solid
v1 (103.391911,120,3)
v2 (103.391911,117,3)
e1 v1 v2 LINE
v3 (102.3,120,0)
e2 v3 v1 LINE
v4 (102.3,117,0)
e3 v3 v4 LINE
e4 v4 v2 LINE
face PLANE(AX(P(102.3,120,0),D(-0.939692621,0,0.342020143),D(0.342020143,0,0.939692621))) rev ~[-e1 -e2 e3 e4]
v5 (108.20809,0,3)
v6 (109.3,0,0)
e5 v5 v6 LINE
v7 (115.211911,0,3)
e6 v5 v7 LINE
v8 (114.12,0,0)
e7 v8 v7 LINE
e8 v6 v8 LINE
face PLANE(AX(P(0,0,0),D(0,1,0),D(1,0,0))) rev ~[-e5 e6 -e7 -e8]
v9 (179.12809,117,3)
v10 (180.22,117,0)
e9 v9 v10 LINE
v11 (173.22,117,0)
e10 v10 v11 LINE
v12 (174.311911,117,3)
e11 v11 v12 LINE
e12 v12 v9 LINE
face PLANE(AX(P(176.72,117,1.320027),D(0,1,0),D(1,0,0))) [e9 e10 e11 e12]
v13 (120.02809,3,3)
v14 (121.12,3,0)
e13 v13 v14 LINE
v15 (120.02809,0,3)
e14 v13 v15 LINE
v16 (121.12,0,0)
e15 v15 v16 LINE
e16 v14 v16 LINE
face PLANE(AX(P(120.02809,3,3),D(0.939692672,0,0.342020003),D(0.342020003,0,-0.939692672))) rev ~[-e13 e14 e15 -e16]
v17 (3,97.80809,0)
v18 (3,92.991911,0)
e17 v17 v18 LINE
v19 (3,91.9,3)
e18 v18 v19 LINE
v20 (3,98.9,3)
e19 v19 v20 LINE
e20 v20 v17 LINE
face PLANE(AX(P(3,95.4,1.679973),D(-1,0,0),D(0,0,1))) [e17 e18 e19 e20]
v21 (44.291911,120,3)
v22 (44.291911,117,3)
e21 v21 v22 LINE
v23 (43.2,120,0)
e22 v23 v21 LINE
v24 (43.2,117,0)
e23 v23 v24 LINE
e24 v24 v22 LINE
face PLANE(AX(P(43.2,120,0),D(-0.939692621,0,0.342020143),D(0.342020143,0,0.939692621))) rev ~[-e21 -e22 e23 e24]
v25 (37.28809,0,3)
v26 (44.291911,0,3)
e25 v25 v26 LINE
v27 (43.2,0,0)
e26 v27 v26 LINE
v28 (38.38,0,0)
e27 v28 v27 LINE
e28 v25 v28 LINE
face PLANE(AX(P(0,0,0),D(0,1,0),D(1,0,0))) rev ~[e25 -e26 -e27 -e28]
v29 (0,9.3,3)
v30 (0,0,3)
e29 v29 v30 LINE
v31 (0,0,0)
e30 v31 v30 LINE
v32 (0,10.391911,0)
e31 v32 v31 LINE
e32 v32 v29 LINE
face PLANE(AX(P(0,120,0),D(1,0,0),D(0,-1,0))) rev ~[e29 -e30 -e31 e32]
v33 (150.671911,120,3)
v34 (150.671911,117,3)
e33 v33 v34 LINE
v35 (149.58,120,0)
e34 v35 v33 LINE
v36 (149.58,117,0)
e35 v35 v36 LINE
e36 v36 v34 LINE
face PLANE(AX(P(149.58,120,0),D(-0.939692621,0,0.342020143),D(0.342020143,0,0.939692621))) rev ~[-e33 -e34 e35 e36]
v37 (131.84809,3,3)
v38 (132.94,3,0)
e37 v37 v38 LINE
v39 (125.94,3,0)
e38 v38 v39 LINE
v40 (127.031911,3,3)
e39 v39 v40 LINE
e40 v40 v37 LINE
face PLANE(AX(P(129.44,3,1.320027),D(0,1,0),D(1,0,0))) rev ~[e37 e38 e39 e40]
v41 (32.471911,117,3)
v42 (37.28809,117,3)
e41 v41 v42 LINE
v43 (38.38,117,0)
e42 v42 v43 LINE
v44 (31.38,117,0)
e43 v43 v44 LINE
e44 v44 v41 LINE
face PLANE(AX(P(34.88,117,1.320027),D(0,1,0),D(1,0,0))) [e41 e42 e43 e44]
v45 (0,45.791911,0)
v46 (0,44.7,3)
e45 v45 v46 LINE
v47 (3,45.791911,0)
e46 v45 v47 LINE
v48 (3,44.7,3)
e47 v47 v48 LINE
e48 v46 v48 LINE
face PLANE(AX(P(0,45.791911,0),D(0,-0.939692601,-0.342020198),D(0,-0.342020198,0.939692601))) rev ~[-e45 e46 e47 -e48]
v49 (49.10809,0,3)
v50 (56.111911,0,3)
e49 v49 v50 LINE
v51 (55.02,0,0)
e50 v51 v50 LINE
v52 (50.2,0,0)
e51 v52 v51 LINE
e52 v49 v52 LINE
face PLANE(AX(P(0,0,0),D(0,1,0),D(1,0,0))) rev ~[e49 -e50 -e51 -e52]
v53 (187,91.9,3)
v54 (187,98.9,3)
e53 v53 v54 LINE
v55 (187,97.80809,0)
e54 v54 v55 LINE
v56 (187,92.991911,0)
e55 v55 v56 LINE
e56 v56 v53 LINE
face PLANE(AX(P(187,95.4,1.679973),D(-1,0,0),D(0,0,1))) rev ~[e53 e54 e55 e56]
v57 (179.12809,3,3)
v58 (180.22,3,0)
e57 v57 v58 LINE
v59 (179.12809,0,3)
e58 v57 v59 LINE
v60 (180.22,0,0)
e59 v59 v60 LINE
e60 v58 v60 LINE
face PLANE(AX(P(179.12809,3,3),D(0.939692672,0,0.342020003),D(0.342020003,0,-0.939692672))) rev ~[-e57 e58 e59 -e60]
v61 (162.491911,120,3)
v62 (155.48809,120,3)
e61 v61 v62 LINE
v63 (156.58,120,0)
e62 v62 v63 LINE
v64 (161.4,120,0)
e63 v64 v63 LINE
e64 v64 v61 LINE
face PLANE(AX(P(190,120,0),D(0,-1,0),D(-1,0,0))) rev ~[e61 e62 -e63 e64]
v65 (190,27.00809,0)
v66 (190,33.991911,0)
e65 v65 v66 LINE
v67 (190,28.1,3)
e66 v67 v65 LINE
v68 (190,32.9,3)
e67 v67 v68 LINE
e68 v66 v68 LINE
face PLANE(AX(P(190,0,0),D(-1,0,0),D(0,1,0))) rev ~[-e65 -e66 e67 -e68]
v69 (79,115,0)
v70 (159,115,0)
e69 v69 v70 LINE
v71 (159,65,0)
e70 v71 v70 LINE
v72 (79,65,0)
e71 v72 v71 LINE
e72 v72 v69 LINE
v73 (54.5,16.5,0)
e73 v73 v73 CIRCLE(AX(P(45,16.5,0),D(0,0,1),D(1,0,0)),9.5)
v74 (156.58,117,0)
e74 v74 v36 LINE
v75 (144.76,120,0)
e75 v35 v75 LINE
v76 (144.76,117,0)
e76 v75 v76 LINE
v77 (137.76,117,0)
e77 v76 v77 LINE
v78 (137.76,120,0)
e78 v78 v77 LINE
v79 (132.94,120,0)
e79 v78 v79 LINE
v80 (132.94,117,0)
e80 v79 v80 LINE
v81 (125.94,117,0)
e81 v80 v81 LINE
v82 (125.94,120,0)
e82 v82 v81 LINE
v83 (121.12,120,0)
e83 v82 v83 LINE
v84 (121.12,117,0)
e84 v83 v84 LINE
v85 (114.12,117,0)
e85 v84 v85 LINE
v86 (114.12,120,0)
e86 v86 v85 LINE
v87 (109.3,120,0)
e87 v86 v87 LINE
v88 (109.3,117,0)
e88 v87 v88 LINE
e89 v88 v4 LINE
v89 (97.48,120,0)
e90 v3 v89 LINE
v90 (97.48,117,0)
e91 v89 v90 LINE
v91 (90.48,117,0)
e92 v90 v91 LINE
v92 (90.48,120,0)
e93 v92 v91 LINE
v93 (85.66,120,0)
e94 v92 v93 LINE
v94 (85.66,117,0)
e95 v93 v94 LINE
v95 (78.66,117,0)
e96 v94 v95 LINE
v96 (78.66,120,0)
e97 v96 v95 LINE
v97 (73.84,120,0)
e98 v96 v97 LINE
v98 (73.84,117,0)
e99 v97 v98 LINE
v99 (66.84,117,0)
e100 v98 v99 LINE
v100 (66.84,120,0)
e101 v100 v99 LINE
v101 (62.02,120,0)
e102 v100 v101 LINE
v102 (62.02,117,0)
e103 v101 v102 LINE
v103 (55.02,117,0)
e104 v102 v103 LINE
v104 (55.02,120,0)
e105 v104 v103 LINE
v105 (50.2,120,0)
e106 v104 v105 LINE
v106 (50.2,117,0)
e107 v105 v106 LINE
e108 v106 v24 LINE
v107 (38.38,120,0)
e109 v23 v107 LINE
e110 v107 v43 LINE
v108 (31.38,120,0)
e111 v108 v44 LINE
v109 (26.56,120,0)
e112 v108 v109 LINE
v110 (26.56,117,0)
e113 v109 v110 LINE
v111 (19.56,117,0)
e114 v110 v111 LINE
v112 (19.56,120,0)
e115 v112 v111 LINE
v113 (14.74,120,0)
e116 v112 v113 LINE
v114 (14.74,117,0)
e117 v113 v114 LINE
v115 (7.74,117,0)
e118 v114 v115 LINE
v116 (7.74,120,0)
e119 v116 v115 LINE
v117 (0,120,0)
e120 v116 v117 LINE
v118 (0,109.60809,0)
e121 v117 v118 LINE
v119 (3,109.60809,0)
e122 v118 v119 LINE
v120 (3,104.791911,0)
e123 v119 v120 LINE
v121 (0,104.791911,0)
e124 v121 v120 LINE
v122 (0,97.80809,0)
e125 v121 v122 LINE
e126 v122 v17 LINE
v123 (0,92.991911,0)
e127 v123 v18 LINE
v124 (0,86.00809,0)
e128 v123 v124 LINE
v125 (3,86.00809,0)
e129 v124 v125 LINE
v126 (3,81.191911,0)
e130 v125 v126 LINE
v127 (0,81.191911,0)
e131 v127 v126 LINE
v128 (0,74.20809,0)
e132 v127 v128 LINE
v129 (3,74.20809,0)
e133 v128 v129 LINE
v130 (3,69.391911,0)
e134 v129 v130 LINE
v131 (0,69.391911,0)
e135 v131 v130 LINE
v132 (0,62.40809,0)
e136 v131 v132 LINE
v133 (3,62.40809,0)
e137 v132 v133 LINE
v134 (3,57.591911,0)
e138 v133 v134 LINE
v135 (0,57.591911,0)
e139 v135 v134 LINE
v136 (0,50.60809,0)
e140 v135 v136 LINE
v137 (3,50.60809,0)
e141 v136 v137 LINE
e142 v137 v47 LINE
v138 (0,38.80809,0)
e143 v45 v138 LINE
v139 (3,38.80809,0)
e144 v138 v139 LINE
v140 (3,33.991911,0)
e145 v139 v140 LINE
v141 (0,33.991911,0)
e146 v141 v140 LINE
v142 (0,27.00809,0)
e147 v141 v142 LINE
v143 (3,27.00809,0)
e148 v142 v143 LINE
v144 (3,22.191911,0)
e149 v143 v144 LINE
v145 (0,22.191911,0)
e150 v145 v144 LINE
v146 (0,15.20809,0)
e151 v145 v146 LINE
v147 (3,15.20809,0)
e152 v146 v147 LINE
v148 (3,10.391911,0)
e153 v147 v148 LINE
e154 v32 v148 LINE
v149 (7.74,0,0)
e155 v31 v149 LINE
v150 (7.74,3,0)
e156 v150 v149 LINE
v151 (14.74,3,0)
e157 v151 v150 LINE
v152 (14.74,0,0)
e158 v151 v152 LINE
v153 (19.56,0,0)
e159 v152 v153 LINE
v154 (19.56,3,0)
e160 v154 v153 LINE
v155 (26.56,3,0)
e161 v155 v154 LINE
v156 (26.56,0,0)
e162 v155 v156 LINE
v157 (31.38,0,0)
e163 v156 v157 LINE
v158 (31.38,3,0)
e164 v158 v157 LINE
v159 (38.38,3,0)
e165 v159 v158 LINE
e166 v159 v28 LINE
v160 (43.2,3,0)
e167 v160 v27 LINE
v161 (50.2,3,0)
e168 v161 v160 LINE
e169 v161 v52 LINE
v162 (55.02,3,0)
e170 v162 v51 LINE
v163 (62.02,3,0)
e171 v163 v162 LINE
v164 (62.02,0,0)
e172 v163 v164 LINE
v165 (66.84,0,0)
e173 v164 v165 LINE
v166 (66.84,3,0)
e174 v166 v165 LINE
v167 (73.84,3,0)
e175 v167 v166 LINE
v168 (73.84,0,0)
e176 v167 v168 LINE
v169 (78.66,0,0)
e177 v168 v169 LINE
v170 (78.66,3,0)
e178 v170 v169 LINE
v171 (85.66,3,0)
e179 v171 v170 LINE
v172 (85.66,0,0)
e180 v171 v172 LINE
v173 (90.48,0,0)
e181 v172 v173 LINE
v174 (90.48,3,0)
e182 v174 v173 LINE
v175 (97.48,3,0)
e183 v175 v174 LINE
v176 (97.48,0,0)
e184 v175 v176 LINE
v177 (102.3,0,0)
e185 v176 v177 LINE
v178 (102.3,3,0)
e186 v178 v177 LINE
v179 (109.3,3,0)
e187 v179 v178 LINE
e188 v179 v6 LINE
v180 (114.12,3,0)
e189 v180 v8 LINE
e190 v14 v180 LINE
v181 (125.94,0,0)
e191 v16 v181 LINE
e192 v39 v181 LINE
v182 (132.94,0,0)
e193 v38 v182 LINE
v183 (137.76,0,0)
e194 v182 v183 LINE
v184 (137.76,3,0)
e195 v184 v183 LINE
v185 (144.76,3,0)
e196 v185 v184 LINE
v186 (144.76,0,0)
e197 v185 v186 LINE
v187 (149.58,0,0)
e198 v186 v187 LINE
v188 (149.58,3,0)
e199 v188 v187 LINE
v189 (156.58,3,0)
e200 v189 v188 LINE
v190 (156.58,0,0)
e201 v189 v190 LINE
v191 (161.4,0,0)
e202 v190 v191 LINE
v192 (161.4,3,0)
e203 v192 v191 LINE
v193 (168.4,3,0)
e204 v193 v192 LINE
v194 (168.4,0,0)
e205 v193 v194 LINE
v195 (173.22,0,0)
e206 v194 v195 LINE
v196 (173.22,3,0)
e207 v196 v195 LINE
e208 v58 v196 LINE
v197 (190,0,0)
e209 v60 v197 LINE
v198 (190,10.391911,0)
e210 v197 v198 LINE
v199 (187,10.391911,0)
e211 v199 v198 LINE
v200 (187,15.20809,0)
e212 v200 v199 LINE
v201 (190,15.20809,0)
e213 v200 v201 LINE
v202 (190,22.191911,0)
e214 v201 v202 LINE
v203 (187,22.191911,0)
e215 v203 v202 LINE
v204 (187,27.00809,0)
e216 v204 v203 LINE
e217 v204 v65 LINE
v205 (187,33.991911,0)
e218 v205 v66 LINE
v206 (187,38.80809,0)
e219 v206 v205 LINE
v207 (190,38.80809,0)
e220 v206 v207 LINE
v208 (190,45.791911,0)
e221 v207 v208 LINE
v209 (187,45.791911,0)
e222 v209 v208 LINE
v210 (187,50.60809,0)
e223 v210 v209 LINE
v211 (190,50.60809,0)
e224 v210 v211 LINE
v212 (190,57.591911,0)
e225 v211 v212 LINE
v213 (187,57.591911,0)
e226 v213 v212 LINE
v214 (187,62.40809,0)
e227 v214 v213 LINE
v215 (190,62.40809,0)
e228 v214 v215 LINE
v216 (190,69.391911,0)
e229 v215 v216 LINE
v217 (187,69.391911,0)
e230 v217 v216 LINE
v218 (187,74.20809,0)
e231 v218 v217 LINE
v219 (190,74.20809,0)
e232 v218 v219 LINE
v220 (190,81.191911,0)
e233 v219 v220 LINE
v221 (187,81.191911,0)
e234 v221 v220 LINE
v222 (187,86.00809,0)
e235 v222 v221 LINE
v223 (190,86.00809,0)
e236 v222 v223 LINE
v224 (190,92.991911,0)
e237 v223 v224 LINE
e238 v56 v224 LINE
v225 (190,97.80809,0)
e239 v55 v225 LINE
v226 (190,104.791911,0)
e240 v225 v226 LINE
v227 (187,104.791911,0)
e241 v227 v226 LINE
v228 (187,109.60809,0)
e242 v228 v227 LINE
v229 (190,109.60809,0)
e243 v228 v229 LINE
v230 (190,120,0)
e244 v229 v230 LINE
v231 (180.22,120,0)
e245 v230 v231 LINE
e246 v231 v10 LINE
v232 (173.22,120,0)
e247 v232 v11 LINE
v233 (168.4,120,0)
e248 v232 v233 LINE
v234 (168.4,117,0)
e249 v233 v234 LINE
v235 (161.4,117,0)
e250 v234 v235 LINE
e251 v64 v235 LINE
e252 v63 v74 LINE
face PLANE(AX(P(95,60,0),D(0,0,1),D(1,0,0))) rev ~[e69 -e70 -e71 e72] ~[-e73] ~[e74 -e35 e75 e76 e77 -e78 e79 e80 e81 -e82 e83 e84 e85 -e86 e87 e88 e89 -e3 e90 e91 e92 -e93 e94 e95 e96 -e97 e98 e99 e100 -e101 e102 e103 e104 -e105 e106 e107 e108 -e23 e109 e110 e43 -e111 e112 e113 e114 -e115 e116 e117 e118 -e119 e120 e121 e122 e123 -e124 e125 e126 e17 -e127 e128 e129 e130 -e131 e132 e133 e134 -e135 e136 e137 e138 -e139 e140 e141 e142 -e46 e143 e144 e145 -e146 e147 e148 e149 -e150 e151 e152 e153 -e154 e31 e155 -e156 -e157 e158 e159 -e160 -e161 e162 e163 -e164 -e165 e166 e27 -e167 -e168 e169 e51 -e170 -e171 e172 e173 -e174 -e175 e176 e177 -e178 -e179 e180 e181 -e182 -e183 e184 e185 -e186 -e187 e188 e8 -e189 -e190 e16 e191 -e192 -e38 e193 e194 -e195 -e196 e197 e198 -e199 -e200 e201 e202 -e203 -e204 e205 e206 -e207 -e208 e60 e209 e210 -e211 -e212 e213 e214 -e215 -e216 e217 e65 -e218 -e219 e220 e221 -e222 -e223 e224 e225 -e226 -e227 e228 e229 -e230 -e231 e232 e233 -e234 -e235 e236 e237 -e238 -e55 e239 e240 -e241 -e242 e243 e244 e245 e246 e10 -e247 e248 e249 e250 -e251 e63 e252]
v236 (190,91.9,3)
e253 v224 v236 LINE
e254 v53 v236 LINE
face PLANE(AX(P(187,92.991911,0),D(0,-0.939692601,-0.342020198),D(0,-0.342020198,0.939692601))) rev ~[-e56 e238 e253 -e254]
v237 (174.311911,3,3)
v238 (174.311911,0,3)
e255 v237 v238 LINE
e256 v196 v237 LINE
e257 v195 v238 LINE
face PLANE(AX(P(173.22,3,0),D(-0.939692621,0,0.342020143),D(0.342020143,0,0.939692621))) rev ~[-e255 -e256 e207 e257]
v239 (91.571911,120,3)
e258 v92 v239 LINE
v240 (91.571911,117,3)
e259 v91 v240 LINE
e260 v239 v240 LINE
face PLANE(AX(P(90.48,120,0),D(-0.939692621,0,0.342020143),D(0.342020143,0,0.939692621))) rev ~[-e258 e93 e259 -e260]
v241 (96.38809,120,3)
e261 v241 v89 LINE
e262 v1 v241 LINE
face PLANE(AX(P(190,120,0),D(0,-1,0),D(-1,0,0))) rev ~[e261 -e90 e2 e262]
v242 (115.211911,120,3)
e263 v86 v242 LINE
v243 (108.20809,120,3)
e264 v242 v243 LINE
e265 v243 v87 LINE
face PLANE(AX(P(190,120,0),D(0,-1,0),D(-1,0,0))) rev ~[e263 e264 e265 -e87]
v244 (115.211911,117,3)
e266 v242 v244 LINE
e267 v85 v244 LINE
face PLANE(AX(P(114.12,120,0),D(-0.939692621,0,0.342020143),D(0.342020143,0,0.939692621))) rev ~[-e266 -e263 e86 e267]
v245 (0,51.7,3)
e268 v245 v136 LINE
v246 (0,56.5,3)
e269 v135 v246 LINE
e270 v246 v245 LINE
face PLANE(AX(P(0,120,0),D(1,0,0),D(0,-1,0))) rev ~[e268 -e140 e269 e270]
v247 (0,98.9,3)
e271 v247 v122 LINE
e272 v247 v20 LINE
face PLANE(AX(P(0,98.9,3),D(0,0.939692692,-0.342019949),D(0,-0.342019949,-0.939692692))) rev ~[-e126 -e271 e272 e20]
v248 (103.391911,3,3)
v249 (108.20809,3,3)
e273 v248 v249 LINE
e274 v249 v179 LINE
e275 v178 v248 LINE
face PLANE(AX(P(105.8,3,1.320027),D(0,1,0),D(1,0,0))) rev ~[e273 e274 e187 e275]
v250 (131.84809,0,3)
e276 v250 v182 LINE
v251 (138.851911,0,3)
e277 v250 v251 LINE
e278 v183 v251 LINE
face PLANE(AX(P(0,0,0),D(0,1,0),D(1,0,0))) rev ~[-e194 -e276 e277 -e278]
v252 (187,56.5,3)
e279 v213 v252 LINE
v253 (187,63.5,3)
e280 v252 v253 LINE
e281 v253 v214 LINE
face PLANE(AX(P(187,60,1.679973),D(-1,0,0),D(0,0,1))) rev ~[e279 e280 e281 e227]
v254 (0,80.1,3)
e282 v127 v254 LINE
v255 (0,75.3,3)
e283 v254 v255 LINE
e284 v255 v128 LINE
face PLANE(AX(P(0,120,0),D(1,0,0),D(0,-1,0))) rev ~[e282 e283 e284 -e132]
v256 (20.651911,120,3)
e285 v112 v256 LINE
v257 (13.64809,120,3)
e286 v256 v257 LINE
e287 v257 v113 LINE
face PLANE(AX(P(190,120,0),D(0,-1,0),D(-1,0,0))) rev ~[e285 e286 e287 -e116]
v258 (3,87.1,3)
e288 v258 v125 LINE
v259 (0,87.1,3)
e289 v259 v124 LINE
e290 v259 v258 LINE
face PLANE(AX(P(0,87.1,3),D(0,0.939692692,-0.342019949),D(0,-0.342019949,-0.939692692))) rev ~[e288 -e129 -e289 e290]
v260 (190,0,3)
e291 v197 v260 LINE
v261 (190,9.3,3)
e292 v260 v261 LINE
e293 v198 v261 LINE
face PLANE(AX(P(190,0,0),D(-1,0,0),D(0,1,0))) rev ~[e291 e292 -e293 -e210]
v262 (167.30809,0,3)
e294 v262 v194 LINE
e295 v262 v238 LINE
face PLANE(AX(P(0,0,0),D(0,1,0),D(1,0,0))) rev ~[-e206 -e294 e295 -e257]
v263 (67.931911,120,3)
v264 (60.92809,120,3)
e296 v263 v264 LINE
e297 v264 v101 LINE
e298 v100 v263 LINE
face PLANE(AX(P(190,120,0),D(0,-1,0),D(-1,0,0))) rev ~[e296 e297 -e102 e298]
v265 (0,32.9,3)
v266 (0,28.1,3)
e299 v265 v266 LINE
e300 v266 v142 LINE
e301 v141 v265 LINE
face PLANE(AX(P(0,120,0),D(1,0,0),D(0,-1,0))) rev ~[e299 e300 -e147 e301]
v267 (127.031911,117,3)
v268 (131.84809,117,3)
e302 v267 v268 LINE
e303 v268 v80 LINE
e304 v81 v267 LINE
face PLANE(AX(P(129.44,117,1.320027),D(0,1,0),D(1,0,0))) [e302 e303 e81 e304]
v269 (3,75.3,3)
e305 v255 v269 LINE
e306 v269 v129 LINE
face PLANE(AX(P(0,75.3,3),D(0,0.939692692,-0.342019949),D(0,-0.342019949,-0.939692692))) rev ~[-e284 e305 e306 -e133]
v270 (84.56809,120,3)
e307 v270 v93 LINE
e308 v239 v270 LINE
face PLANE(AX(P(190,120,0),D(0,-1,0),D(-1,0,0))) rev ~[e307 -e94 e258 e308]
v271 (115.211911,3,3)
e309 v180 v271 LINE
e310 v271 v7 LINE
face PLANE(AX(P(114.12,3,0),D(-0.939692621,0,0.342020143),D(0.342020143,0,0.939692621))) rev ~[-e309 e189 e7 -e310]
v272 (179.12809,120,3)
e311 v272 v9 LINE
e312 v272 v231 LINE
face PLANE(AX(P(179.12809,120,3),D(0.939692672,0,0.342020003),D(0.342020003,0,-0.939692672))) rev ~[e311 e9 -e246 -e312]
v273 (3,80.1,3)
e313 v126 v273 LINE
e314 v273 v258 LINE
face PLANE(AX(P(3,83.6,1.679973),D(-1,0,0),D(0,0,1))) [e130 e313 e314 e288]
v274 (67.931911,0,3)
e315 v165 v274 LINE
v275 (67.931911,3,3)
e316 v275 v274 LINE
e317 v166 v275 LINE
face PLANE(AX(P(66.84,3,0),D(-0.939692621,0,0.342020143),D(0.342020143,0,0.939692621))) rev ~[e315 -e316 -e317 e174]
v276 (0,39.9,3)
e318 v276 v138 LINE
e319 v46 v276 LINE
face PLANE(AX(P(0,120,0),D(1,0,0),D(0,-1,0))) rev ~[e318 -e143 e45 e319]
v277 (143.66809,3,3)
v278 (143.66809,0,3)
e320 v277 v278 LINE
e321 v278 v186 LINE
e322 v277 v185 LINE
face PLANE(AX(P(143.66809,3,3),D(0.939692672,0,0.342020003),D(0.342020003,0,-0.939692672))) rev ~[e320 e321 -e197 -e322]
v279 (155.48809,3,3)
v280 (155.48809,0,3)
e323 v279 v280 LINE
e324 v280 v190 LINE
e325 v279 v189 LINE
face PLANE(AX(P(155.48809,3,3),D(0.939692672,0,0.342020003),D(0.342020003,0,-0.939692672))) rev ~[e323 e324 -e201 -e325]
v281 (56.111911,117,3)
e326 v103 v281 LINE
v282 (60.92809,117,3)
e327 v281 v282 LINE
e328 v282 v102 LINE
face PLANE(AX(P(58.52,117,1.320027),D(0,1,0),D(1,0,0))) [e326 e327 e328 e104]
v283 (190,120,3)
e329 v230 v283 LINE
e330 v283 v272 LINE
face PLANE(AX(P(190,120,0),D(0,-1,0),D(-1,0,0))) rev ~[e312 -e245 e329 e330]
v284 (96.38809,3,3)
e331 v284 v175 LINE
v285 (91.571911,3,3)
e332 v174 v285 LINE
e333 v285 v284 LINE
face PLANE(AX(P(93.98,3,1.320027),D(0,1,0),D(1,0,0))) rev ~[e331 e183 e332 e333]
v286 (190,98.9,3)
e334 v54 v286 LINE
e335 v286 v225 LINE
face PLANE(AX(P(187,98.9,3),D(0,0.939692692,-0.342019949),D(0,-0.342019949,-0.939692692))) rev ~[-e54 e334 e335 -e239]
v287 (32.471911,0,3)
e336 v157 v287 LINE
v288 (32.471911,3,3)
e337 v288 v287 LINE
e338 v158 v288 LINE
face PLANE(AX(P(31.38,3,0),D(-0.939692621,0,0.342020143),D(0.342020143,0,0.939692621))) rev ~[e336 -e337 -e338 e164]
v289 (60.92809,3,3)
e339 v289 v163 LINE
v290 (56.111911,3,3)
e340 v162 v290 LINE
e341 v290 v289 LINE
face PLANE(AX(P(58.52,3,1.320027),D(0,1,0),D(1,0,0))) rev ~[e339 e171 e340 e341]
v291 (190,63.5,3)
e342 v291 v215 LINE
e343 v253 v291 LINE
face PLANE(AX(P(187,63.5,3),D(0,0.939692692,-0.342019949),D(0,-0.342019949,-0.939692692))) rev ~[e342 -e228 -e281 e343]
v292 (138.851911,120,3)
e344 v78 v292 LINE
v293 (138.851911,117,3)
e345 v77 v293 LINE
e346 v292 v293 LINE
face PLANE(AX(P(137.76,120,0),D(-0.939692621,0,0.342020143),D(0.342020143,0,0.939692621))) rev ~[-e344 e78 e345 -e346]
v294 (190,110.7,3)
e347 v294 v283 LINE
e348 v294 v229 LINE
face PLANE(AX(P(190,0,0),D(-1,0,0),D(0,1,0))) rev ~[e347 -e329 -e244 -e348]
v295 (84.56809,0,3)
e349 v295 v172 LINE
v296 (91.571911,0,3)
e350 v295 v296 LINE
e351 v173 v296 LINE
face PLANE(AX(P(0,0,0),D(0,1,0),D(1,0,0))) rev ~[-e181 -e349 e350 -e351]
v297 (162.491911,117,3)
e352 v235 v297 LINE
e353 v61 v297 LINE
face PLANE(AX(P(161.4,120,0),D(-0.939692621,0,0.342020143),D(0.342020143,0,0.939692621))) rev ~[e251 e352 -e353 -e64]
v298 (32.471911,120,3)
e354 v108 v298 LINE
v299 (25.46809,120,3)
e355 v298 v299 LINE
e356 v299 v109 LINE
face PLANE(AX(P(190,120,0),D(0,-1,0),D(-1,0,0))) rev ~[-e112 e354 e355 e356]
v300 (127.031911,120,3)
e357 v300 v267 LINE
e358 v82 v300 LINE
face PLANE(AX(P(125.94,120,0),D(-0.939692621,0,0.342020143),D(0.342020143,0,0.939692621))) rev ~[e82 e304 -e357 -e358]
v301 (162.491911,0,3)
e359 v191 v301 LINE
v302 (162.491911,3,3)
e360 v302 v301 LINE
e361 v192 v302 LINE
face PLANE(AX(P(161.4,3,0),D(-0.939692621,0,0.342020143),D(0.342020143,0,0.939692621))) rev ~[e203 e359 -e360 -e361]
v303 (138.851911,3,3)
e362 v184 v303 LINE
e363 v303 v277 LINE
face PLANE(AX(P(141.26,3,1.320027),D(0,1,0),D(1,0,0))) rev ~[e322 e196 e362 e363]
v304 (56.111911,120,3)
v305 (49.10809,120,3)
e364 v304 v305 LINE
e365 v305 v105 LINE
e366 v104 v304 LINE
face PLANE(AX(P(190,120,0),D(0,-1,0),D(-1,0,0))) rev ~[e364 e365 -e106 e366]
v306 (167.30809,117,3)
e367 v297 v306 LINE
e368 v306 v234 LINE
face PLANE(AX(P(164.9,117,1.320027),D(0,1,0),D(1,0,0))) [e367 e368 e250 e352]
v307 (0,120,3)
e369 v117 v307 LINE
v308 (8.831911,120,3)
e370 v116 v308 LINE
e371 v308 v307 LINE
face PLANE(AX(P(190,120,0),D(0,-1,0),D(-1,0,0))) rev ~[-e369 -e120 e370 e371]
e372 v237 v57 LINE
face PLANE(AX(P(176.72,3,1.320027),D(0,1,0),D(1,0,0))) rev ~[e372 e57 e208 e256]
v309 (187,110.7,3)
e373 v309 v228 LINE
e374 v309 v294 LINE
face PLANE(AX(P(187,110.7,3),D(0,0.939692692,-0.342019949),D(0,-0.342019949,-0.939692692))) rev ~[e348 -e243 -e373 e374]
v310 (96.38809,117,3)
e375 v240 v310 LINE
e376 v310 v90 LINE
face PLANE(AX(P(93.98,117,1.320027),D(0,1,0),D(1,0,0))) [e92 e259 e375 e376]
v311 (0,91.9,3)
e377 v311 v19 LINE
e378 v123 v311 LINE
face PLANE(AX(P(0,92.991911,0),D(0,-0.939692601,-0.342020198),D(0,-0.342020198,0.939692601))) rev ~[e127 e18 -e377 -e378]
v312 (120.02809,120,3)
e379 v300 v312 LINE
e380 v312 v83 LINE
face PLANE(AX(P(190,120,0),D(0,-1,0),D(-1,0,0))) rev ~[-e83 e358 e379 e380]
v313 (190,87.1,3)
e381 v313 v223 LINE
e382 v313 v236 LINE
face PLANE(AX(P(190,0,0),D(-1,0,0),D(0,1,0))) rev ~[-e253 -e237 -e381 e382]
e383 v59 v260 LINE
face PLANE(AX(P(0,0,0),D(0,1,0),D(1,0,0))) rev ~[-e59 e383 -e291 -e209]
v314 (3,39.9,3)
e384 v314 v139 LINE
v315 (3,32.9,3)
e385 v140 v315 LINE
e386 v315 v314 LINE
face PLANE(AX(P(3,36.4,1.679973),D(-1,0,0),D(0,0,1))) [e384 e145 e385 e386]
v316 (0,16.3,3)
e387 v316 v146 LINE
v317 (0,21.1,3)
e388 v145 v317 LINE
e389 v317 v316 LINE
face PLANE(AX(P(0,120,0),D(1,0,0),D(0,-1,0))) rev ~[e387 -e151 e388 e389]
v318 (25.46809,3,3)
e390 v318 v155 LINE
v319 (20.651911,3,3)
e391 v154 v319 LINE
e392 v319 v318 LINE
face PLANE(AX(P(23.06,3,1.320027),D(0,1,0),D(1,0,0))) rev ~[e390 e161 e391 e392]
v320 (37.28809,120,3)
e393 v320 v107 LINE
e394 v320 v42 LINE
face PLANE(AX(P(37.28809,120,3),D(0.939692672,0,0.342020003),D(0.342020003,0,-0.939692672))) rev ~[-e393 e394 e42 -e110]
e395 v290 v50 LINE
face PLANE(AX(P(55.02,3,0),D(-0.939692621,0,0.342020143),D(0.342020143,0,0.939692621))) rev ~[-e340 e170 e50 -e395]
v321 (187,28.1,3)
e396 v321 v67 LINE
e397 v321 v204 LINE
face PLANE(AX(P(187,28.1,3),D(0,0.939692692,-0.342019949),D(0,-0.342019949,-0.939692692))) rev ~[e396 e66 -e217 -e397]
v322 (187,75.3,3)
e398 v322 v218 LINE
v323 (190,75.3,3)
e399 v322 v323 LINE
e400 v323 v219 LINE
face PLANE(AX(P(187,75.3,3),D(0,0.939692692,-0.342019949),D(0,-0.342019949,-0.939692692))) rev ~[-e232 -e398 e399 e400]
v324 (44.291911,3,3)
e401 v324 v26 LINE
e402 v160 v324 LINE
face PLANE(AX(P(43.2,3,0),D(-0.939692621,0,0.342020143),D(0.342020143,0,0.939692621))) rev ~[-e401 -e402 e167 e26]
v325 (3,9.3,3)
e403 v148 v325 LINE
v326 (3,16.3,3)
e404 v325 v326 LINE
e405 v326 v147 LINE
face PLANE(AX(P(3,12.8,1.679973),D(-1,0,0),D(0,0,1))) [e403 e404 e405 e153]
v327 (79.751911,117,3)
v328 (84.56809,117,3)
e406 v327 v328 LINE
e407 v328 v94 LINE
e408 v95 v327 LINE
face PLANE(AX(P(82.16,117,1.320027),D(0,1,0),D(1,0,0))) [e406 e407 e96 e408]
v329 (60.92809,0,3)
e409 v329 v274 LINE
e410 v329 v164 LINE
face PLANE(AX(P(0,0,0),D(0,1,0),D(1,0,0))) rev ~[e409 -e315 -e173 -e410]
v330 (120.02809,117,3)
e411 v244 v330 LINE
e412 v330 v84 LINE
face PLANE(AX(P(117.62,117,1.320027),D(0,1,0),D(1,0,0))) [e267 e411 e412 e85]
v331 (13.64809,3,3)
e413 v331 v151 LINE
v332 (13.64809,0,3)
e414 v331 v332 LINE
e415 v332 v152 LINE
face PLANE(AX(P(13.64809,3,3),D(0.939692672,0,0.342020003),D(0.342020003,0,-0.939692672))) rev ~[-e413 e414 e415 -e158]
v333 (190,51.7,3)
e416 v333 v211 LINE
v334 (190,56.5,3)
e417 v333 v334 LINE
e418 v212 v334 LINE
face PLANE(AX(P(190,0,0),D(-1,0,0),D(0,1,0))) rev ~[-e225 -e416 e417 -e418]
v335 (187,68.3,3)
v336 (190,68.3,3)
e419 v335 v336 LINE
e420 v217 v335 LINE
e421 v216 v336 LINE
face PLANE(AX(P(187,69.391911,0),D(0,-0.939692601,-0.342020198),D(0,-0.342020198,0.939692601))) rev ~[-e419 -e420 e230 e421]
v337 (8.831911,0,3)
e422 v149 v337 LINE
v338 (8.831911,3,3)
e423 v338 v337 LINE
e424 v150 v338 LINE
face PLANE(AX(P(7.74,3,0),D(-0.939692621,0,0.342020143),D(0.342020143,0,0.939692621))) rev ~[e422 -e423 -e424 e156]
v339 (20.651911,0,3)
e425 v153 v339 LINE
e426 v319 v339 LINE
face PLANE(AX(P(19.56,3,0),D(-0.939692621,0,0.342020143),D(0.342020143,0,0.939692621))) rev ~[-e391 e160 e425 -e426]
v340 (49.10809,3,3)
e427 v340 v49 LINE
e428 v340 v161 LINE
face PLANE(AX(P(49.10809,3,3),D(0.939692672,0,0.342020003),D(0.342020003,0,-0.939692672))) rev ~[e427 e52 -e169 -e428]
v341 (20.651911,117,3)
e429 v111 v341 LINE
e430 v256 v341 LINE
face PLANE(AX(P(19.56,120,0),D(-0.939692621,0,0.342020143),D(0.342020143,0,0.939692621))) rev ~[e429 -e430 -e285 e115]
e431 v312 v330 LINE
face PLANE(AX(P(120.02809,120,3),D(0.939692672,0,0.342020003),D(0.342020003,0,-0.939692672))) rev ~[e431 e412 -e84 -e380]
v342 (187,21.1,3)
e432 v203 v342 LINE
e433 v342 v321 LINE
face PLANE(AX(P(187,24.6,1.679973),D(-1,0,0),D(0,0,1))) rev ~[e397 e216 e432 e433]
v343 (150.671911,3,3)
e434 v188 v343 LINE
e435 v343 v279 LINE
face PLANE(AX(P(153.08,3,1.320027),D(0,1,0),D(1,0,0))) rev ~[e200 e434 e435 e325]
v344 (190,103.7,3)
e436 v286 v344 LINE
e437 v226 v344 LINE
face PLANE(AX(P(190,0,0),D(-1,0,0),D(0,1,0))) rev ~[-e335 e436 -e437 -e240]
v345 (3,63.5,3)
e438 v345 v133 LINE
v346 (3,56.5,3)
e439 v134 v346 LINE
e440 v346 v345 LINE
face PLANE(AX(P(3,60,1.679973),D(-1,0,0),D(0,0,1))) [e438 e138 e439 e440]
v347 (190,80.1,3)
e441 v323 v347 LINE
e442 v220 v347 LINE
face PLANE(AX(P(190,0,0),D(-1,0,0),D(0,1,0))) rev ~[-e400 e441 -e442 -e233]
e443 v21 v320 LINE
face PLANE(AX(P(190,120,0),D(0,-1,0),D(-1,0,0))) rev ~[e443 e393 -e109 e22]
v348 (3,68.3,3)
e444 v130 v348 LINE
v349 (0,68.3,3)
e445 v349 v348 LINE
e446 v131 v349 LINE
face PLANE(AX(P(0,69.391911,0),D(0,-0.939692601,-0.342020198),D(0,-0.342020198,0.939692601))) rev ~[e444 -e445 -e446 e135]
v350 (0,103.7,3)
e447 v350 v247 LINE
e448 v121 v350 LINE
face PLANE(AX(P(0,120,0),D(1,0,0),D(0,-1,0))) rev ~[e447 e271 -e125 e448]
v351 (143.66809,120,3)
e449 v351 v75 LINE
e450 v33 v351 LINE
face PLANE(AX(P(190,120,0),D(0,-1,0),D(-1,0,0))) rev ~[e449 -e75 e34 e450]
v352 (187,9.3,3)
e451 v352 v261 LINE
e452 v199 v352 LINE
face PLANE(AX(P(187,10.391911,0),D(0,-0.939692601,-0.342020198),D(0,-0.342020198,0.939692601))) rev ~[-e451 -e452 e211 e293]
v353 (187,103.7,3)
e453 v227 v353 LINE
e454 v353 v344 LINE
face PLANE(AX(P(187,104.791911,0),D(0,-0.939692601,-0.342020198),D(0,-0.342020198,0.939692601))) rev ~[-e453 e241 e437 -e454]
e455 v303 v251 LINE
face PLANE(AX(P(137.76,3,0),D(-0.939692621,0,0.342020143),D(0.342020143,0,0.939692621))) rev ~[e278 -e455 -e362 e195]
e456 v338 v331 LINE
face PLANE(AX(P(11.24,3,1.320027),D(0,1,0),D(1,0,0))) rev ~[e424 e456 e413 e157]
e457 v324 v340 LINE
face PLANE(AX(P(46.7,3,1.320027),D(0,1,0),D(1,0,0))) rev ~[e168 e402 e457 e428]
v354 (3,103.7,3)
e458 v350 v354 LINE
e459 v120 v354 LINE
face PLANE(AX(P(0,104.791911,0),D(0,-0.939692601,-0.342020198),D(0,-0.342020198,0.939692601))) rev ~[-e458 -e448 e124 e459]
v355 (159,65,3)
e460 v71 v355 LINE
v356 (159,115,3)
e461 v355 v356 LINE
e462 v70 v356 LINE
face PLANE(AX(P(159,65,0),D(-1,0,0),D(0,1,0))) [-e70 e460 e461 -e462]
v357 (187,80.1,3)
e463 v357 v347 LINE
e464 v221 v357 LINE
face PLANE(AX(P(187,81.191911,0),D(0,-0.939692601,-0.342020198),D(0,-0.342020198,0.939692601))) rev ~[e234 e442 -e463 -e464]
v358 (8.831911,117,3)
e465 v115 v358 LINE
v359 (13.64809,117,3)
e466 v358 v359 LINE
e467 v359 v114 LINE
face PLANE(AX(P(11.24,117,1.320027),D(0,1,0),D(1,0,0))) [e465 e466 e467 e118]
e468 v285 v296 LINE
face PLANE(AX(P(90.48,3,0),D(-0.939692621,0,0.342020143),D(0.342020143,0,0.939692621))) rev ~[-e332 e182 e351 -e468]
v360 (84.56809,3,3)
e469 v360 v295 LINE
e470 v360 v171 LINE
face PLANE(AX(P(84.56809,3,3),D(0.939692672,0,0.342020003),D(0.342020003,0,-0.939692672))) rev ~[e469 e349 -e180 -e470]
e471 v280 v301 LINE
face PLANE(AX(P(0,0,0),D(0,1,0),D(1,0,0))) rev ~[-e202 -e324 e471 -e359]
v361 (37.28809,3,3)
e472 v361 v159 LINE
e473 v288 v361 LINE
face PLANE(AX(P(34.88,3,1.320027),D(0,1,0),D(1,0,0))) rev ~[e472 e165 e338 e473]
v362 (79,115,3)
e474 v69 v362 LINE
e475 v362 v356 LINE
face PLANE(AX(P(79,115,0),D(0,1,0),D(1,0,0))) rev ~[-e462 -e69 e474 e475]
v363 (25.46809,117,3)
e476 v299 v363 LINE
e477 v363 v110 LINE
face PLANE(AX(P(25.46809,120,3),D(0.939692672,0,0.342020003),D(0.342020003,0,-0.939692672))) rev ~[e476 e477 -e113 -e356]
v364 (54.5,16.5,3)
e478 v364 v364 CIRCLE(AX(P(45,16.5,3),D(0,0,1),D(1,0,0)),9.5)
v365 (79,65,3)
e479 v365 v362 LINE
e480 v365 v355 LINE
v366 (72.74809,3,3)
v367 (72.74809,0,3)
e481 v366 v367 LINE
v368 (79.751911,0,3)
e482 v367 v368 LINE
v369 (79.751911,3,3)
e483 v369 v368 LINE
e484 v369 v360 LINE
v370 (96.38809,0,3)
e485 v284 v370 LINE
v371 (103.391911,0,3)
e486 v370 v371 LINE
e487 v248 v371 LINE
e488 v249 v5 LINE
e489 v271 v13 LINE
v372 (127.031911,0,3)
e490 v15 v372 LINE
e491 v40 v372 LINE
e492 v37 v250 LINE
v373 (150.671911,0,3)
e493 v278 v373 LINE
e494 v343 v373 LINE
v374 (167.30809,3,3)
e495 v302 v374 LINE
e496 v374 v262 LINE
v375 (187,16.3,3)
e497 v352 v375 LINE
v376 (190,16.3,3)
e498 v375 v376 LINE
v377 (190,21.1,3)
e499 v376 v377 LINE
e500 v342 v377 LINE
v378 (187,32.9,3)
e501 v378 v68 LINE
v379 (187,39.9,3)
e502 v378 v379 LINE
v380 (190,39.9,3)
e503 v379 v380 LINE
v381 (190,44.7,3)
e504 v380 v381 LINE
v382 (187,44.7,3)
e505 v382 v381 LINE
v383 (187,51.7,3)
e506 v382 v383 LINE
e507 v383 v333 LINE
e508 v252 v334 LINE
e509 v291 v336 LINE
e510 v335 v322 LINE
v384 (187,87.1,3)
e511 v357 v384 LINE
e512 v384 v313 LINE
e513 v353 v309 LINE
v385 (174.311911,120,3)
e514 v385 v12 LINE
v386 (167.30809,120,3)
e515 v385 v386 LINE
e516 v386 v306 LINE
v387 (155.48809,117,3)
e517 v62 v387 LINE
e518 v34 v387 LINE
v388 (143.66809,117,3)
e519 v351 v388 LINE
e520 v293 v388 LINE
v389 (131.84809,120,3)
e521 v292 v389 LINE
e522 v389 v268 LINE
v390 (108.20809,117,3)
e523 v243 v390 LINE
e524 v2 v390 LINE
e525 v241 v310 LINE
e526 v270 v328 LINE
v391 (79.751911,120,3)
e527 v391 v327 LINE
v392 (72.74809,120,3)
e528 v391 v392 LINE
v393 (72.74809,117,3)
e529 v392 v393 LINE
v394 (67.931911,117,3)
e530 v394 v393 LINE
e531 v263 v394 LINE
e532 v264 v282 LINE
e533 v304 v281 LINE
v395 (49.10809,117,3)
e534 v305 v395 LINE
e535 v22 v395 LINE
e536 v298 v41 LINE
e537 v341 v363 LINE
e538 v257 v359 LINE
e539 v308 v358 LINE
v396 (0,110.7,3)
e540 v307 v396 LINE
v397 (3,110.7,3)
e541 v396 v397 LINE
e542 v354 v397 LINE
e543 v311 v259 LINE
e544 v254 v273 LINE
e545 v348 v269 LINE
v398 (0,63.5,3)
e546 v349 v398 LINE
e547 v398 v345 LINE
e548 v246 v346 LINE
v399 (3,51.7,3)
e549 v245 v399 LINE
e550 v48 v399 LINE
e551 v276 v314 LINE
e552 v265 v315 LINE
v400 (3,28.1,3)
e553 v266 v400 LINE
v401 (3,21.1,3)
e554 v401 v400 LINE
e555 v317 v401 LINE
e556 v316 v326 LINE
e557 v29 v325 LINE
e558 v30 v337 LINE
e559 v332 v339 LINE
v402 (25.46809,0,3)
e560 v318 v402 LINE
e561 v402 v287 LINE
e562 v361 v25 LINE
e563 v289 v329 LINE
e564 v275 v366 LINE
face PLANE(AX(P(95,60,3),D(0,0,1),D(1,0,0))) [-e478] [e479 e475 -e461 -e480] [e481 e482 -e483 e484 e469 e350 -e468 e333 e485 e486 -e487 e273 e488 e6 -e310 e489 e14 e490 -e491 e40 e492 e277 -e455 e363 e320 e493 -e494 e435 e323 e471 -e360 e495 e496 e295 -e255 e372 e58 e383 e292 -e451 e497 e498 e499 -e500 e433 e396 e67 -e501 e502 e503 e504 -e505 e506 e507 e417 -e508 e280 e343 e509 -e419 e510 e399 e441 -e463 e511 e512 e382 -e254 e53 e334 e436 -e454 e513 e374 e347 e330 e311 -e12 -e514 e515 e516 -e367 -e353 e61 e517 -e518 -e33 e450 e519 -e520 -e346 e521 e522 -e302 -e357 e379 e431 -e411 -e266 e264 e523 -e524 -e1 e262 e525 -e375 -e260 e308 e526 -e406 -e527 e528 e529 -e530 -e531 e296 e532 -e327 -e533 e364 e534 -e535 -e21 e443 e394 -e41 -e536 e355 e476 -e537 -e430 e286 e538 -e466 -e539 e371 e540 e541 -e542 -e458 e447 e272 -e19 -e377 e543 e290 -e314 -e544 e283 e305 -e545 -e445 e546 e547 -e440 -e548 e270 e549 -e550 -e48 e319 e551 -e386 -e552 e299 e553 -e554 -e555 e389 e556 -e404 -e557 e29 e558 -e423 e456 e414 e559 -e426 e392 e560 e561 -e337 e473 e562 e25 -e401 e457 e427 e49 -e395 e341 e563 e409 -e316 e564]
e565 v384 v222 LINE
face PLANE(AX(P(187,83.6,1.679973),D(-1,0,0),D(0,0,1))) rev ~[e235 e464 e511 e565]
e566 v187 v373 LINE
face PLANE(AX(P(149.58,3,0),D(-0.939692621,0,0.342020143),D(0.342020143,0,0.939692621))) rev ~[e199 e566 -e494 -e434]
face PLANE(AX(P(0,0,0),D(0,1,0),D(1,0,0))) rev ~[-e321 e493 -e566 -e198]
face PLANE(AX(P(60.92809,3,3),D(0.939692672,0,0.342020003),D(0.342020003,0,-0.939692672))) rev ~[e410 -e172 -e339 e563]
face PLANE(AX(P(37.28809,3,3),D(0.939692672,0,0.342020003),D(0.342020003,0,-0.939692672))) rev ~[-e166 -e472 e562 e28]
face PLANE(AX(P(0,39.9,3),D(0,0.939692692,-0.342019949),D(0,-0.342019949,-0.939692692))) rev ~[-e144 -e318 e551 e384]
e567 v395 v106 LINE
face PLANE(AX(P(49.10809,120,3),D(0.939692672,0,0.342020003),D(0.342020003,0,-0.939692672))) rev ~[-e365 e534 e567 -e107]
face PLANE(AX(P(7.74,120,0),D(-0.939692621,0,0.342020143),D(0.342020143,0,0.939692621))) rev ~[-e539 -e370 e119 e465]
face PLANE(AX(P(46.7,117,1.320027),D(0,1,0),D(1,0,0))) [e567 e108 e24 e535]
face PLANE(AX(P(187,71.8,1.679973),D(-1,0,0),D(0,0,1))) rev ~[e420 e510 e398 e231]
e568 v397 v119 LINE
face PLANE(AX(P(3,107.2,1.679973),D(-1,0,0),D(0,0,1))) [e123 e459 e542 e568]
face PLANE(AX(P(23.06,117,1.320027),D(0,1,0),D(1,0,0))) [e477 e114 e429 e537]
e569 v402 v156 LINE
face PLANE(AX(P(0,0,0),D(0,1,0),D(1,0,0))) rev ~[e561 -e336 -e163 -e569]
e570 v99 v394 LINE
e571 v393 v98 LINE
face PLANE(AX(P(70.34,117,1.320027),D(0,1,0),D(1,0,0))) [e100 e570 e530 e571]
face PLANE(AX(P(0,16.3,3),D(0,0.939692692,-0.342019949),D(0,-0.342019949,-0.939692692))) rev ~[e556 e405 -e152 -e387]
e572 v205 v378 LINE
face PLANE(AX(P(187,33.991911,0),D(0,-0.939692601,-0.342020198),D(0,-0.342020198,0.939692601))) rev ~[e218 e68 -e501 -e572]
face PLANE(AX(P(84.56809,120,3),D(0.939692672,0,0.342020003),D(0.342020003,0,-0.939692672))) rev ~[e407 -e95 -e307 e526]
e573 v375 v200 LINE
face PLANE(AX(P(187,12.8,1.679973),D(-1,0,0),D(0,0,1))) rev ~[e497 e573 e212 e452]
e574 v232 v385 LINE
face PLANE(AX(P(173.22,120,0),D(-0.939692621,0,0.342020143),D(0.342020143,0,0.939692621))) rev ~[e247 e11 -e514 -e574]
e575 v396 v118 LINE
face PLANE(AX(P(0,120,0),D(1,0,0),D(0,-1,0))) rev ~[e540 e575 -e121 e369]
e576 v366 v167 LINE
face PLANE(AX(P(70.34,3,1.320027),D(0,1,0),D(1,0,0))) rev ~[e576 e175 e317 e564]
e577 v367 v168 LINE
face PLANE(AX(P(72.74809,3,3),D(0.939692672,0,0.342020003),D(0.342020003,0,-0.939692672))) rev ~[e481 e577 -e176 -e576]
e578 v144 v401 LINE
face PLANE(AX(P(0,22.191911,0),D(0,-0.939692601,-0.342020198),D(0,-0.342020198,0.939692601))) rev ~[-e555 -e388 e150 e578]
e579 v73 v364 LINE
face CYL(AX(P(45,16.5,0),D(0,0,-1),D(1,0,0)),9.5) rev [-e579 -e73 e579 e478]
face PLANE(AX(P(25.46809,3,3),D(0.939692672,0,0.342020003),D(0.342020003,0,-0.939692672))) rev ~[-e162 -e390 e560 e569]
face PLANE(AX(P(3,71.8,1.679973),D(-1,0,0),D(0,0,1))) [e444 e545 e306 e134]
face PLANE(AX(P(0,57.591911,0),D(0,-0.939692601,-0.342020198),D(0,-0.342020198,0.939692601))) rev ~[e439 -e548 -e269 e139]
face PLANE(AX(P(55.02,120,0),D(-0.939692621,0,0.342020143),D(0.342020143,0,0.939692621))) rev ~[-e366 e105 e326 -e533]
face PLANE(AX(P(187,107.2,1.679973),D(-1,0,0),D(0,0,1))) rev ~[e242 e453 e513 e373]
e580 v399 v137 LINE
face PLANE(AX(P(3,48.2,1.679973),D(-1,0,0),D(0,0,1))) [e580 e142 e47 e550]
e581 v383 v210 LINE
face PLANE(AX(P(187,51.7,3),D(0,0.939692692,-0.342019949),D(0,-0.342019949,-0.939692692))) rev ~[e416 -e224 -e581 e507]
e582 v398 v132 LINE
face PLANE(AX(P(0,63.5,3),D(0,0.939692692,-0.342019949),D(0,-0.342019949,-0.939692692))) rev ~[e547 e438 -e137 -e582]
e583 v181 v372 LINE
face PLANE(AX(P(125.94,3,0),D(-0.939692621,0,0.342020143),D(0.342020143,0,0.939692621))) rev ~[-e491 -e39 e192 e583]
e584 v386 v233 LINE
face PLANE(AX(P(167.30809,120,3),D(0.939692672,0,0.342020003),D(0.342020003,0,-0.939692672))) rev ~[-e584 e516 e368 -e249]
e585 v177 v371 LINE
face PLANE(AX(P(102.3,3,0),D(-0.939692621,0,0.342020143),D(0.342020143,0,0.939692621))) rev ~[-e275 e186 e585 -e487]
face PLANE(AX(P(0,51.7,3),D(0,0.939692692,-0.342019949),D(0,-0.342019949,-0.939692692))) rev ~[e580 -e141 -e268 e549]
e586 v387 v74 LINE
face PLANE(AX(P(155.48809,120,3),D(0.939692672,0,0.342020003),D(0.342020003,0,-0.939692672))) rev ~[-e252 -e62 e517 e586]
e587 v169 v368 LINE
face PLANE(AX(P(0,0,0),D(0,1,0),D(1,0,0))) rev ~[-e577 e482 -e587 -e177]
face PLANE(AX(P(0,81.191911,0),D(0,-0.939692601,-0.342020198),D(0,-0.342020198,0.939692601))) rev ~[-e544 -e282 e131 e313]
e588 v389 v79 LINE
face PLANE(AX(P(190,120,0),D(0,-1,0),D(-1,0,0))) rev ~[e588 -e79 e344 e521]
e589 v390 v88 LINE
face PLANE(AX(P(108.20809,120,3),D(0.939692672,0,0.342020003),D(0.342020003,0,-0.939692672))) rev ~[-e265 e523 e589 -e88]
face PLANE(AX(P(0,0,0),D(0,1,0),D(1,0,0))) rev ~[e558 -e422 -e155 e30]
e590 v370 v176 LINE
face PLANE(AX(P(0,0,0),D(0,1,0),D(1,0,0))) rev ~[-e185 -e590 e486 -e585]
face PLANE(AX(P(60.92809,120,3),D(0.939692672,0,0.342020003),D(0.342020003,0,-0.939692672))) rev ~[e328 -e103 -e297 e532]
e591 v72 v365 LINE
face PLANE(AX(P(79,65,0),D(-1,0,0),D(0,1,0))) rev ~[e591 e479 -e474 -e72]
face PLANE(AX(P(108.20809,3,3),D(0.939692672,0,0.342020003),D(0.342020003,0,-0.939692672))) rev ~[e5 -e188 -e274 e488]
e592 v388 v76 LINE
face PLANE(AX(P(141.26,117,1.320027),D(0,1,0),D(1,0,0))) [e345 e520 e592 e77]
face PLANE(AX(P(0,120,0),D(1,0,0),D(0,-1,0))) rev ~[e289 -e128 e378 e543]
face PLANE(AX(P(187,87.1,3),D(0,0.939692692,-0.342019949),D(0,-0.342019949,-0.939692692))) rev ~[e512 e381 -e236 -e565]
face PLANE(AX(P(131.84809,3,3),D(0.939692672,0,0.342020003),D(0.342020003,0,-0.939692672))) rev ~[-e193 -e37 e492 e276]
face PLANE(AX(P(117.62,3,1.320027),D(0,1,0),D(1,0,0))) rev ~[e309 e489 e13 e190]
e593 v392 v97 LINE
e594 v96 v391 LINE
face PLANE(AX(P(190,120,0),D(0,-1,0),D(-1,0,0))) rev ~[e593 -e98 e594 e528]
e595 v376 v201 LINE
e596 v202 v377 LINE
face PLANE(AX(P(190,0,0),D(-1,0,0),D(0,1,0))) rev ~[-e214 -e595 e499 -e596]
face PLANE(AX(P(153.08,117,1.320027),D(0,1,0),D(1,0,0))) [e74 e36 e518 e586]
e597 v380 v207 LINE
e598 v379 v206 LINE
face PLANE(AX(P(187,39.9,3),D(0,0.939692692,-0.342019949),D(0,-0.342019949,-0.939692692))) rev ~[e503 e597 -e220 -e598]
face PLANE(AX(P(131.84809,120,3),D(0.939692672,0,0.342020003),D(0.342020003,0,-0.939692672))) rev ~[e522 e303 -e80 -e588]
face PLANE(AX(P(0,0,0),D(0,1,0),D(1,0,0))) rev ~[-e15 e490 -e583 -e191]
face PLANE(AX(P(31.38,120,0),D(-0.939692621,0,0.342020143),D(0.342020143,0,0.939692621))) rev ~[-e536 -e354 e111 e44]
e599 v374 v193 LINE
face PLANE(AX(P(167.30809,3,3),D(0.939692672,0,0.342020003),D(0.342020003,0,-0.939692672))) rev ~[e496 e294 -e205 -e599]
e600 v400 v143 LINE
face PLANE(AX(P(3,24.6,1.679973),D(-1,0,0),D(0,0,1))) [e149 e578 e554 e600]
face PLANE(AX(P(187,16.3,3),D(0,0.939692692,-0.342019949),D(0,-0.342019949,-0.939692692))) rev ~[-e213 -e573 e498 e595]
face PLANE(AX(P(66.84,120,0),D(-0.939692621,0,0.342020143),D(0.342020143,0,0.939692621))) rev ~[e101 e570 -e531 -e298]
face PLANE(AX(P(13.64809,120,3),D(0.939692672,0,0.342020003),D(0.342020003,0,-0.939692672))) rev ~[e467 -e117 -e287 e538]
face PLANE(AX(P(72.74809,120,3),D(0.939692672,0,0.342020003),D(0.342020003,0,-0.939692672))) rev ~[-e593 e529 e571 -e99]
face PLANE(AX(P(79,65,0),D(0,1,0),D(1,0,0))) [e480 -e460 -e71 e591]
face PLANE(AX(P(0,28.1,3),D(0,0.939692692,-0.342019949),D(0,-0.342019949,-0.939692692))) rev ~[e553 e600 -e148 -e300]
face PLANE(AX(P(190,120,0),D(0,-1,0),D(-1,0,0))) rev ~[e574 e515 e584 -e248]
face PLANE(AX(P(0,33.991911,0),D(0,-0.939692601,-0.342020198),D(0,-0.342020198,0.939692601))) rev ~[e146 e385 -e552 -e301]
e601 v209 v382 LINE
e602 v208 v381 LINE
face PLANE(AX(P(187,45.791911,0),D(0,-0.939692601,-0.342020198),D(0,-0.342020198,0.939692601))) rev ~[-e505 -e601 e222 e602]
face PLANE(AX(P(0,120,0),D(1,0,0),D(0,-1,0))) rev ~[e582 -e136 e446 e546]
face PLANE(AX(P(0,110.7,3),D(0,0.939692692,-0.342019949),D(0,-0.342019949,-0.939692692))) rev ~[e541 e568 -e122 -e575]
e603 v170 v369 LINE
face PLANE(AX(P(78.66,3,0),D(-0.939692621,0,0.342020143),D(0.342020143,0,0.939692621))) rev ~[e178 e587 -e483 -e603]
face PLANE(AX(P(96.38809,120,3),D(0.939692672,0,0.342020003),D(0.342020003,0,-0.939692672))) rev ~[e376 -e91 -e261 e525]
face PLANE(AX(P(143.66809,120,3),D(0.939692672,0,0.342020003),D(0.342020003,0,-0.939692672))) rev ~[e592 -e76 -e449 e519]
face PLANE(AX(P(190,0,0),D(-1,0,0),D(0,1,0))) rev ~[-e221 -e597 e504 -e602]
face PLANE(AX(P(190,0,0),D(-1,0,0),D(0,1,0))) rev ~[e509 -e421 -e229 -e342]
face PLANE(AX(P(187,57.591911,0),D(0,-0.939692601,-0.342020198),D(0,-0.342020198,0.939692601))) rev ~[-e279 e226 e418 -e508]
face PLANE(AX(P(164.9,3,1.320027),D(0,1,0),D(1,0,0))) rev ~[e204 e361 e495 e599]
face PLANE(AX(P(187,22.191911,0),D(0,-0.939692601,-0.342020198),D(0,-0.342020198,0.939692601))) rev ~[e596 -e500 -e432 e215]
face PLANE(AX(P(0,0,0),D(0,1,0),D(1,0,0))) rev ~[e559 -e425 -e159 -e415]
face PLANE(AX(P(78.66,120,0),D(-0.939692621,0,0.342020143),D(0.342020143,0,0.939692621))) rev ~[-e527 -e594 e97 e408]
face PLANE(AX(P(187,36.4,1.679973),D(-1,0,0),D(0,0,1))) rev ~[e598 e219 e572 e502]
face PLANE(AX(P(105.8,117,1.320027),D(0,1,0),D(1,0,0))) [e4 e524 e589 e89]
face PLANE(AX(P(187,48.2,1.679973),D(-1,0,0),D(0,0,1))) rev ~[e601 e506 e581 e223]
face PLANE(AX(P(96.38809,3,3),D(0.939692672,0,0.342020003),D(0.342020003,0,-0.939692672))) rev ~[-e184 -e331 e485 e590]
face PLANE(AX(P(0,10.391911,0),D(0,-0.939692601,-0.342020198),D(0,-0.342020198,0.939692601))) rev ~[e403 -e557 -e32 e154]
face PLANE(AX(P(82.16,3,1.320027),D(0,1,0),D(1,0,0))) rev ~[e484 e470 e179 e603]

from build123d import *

# Parameters (mm, degrees)
SKETCH1_R           = 9.5
SKETCH1_W           = 80
SKETCH1_H           = 50
BOSS_EXTRUDE1_DEPTH = 3
CUT_EXTRUDE1_DEPTH  = 3
CUT_EXTRUDE3_START  = -117
CUT_EXTRUDE3_DEPTH  = 187
CUT_EXTRUDE5_DEPTH  = 3
CUT_EXTRUDE6_START  = -187
CUT_EXTRUDE6_DEPTH  = 3


with BuildPart() as part:
    # Sketch1 → Boss-Extrude1 (new body)
    with BuildSketch(Plane.XY):
        Polygon((10, 0), (190, 0), (190, 120), (9.862497021, 120), (0, 120), (0, 0), align=None)
        with Locations((45, 16.5)):
            Circle(SKETCH1_R, mode=Mode.SUBTRACT)
        with Locations((119, 90)):
            Rectangle(SKETCH1_W, SKETCH1_H, mode=Mode.SUBTRACT)
    extrude(amount=BOSS_EXTRUDE1_DEPTH)

    # Sketch3 → Cut-Extrude1 (cut)
    with BuildSketch(Plane(origin=(0, 120, 0), x_dir=(1, 0, 0), z_dir=(0, 1, 0))):
        Polygon((179.128089803, -3), (180.22, 0), (173.22, 0), (174.311910703, -3), align=None)
        Polygon((167.308089803, -3), (168.4, 0), (161.4, 0), (162.491910703, -3), align=None)
        Polygon((155.488089803, -3), (156.58, 0), (149.58, 0), (150.671910703, -3), align=None)
        Polygon((143.668089803, -3), (144.76, 0), (137.76, 0), (138.851910703, -3), align=None)
        Polygon((131.848089803, -3), (132.94, 0), (125.94, 0), (127.031910703, -3), align=None)
        Polygon((120.028089803, -3), (121.12, 0), (114.12, 0), (115.211910703, -3), align=None)
        Polygon((108.208089803, -3), (109.3, 0), (102.3, 0), (103.391910703, -3), align=None)
        Polygon((96.388089803, -3), (97.48, 0), (90.48, 0), (91.571910703, -3), align=None)
        Polygon((84.568089803, -3), (85.66, 0), (78.66, 0), (79.751910703, -3), align=None)
        Polygon((72.748089803, -3), (73.84, 0), (66.84, 0), (67.931910703, -3), align=None)
        Polygon((60.928089803, -3), (62.02, 0), (55.02, 0), (56.111910703, -3), align=None)
        Polygon((49.108089803, -3), (50.2, 0), (43.2, 0), (44.291910703, -3), align=None)
        Polygon((37.288089803, -3), (38.38, 0), (31.38, 0), (32.471910703, -3), align=None)
        Polygon((25.468089803, -3), (26.56, 0), (19.56, 0), (20.651910703, -3), align=None)
        Polygon((13.648089803, -3), (14.74, 0), (7.74, 0), (8.831910703, -3), align=None)
    extrude(amount=-CUT_EXTRUDE1_DEPTH, mode=Mode.SUBTRACT)

    # Sketch3<2> → Cut-Extrude3 (cut)
    with BuildSketch(Plane(origin=(0, 120, 0), x_dir=(1, 0, 0), z_dir=(0, 1, 0)).offset(CUT_EXTRUDE3_START)):
        Polygon((179.128089803, -3), (180.22, 0), (173.22, 0), (174.311910703, -3), align=None)
        Polygon((167.308089803, -3), (168.4, 0), (161.4, 0), (162.491910703, -3), align=None)
        Polygon((155.488089803, -3), (156.58, 0), (149.58, 0), (150.671910703, -3), align=None)
        Polygon((143.668089803, -3), (144.76, 0), (137.76, 0), (138.851910703, -3), align=None)
        Polygon((131.848089803, -3), (132.94, 0), (125.94, 0), (127.031910703, -3), align=None)
        Polygon((120.028089803, -3), (121.12, 0), (114.12, 0), (115.211910703, -3), align=None)
        Polygon((108.208089803, -3), (109.3, 0), (102.3, 0), (103.391910703, -3), align=None)
        Polygon((96.388089803, -3), (97.48, 0), (90.48, 0), (91.571910703, -3), align=None)
        Polygon((84.568089803, -3), (85.66, 0), (78.66, 0), (79.751910703, -3), align=None)
        Polygon((72.748089803, -3), (73.84, 0), (66.84, 0), (67.931910703, -3), align=None)
        Polygon((60.928089803, -3), (62.02, 0), (55.02, 0), (56.111910703, -3), align=None)
        Polygon((49.108089803, -3), (50.2, 0), (43.2, 0), (44.291910703, -3), align=None)
        Polygon((37.288089803, -3), (38.38, 0), (31.38, 0), (32.471910703, -3), align=None)
        Polygon((25.468089803, -3), (26.56, 0), (19.56, 0), (20.651910703, -3), align=None)
        Polygon((13.648089803, -3), (14.74, 0), (7.74, 0), (8.831910703, -3), align=None)
    extrude(amount=-CUT_EXTRUDE3_DEPTH, mode=Mode.SUBTRACT)

    # Sketch6 → Cut-Extrude5 (cut)
    with BuildSketch(Plane.ZY):
        Polygon((0, 104.7919109), (3, 103.7), (3, 110.7), (0, 109.60809), align=None)
        Polygon((0, 92.9919109), (3, 91.9), (3, 98.9), (0, 97.80809), align=None)
        Polygon((0, 81.1919109), (3, 80.1), (3, 87.1), (0, 86.00809), align=None)
        Polygon((0, 69.3919109), (3, 68.3), (3, 75.3), (0, 74.20809), align=None)
        Polygon((0, 57.5919109), (3, 56.5), (3, 63.5), (0, 62.40809), align=None)
        Polygon((0, 45.7919109), (3, 44.7), (3, 51.7), (0, 50.60809), align=None)
        Polygon((0, 33.9919109), (3, 32.9), (3, 39.9), (0, 38.80809), align=None)
        Polygon((0, 22.1919109), (3, 21.1), (3, 28.1), (0, 27.00809), align=None)
        Polygon((0, 10.3919109), (3, 9.3), (3, 16.3), (0, 15.20809), align=None)
    extrude(amount=-CUT_EXTRUDE5_DEPTH, mode=Mode.SUBTRACT)

    # Sketch6<3> → Cut-Extrude6 (cut)
    with BuildSketch(Plane.ZY.offset(CUT_EXTRUDE6_START)):
        Polygon((0, 104.7919109), (3, 103.7), (3, 110.7), (0, 109.60809), align=None)
        Polygon((0, 92.9919109), (3, 91.9), (3, 98.9), (0, 97.80809), align=None)
        Polygon((0, 81.1919109), (3, 80.1), (3, 87.1), (0, 86.00809), align=None)
        Polygon((0, 69.3919109), (3, 68.3), (3, 75.3), (0, 74.20809), align=None)
        Polygon((0, 57.5919109), (3, 56.5), (3, 63.5), (0, 62.40809), align=None)
        Polygon((0, 45.7919109), (3, 44.7), (3, 51.7), (0, 50.60809), align=None)
        Polygon((0, 33.9919109), (3, 32.9), (3, 39.9), (0, 38.80809), align=None)
        Polygon((0, 22.1919109), (3, 21.1), (3, 28.1), (0, 27.00809), align=None)
        Polygon((0, 10.3919109), (3, 9.3), (3, 16.3), (0, 15.20809), align=None)
    extrude(amount=-CUT_EXTRUDE6_DEPTH, mode=Mode.SUBTRACT)


solid = part.part
